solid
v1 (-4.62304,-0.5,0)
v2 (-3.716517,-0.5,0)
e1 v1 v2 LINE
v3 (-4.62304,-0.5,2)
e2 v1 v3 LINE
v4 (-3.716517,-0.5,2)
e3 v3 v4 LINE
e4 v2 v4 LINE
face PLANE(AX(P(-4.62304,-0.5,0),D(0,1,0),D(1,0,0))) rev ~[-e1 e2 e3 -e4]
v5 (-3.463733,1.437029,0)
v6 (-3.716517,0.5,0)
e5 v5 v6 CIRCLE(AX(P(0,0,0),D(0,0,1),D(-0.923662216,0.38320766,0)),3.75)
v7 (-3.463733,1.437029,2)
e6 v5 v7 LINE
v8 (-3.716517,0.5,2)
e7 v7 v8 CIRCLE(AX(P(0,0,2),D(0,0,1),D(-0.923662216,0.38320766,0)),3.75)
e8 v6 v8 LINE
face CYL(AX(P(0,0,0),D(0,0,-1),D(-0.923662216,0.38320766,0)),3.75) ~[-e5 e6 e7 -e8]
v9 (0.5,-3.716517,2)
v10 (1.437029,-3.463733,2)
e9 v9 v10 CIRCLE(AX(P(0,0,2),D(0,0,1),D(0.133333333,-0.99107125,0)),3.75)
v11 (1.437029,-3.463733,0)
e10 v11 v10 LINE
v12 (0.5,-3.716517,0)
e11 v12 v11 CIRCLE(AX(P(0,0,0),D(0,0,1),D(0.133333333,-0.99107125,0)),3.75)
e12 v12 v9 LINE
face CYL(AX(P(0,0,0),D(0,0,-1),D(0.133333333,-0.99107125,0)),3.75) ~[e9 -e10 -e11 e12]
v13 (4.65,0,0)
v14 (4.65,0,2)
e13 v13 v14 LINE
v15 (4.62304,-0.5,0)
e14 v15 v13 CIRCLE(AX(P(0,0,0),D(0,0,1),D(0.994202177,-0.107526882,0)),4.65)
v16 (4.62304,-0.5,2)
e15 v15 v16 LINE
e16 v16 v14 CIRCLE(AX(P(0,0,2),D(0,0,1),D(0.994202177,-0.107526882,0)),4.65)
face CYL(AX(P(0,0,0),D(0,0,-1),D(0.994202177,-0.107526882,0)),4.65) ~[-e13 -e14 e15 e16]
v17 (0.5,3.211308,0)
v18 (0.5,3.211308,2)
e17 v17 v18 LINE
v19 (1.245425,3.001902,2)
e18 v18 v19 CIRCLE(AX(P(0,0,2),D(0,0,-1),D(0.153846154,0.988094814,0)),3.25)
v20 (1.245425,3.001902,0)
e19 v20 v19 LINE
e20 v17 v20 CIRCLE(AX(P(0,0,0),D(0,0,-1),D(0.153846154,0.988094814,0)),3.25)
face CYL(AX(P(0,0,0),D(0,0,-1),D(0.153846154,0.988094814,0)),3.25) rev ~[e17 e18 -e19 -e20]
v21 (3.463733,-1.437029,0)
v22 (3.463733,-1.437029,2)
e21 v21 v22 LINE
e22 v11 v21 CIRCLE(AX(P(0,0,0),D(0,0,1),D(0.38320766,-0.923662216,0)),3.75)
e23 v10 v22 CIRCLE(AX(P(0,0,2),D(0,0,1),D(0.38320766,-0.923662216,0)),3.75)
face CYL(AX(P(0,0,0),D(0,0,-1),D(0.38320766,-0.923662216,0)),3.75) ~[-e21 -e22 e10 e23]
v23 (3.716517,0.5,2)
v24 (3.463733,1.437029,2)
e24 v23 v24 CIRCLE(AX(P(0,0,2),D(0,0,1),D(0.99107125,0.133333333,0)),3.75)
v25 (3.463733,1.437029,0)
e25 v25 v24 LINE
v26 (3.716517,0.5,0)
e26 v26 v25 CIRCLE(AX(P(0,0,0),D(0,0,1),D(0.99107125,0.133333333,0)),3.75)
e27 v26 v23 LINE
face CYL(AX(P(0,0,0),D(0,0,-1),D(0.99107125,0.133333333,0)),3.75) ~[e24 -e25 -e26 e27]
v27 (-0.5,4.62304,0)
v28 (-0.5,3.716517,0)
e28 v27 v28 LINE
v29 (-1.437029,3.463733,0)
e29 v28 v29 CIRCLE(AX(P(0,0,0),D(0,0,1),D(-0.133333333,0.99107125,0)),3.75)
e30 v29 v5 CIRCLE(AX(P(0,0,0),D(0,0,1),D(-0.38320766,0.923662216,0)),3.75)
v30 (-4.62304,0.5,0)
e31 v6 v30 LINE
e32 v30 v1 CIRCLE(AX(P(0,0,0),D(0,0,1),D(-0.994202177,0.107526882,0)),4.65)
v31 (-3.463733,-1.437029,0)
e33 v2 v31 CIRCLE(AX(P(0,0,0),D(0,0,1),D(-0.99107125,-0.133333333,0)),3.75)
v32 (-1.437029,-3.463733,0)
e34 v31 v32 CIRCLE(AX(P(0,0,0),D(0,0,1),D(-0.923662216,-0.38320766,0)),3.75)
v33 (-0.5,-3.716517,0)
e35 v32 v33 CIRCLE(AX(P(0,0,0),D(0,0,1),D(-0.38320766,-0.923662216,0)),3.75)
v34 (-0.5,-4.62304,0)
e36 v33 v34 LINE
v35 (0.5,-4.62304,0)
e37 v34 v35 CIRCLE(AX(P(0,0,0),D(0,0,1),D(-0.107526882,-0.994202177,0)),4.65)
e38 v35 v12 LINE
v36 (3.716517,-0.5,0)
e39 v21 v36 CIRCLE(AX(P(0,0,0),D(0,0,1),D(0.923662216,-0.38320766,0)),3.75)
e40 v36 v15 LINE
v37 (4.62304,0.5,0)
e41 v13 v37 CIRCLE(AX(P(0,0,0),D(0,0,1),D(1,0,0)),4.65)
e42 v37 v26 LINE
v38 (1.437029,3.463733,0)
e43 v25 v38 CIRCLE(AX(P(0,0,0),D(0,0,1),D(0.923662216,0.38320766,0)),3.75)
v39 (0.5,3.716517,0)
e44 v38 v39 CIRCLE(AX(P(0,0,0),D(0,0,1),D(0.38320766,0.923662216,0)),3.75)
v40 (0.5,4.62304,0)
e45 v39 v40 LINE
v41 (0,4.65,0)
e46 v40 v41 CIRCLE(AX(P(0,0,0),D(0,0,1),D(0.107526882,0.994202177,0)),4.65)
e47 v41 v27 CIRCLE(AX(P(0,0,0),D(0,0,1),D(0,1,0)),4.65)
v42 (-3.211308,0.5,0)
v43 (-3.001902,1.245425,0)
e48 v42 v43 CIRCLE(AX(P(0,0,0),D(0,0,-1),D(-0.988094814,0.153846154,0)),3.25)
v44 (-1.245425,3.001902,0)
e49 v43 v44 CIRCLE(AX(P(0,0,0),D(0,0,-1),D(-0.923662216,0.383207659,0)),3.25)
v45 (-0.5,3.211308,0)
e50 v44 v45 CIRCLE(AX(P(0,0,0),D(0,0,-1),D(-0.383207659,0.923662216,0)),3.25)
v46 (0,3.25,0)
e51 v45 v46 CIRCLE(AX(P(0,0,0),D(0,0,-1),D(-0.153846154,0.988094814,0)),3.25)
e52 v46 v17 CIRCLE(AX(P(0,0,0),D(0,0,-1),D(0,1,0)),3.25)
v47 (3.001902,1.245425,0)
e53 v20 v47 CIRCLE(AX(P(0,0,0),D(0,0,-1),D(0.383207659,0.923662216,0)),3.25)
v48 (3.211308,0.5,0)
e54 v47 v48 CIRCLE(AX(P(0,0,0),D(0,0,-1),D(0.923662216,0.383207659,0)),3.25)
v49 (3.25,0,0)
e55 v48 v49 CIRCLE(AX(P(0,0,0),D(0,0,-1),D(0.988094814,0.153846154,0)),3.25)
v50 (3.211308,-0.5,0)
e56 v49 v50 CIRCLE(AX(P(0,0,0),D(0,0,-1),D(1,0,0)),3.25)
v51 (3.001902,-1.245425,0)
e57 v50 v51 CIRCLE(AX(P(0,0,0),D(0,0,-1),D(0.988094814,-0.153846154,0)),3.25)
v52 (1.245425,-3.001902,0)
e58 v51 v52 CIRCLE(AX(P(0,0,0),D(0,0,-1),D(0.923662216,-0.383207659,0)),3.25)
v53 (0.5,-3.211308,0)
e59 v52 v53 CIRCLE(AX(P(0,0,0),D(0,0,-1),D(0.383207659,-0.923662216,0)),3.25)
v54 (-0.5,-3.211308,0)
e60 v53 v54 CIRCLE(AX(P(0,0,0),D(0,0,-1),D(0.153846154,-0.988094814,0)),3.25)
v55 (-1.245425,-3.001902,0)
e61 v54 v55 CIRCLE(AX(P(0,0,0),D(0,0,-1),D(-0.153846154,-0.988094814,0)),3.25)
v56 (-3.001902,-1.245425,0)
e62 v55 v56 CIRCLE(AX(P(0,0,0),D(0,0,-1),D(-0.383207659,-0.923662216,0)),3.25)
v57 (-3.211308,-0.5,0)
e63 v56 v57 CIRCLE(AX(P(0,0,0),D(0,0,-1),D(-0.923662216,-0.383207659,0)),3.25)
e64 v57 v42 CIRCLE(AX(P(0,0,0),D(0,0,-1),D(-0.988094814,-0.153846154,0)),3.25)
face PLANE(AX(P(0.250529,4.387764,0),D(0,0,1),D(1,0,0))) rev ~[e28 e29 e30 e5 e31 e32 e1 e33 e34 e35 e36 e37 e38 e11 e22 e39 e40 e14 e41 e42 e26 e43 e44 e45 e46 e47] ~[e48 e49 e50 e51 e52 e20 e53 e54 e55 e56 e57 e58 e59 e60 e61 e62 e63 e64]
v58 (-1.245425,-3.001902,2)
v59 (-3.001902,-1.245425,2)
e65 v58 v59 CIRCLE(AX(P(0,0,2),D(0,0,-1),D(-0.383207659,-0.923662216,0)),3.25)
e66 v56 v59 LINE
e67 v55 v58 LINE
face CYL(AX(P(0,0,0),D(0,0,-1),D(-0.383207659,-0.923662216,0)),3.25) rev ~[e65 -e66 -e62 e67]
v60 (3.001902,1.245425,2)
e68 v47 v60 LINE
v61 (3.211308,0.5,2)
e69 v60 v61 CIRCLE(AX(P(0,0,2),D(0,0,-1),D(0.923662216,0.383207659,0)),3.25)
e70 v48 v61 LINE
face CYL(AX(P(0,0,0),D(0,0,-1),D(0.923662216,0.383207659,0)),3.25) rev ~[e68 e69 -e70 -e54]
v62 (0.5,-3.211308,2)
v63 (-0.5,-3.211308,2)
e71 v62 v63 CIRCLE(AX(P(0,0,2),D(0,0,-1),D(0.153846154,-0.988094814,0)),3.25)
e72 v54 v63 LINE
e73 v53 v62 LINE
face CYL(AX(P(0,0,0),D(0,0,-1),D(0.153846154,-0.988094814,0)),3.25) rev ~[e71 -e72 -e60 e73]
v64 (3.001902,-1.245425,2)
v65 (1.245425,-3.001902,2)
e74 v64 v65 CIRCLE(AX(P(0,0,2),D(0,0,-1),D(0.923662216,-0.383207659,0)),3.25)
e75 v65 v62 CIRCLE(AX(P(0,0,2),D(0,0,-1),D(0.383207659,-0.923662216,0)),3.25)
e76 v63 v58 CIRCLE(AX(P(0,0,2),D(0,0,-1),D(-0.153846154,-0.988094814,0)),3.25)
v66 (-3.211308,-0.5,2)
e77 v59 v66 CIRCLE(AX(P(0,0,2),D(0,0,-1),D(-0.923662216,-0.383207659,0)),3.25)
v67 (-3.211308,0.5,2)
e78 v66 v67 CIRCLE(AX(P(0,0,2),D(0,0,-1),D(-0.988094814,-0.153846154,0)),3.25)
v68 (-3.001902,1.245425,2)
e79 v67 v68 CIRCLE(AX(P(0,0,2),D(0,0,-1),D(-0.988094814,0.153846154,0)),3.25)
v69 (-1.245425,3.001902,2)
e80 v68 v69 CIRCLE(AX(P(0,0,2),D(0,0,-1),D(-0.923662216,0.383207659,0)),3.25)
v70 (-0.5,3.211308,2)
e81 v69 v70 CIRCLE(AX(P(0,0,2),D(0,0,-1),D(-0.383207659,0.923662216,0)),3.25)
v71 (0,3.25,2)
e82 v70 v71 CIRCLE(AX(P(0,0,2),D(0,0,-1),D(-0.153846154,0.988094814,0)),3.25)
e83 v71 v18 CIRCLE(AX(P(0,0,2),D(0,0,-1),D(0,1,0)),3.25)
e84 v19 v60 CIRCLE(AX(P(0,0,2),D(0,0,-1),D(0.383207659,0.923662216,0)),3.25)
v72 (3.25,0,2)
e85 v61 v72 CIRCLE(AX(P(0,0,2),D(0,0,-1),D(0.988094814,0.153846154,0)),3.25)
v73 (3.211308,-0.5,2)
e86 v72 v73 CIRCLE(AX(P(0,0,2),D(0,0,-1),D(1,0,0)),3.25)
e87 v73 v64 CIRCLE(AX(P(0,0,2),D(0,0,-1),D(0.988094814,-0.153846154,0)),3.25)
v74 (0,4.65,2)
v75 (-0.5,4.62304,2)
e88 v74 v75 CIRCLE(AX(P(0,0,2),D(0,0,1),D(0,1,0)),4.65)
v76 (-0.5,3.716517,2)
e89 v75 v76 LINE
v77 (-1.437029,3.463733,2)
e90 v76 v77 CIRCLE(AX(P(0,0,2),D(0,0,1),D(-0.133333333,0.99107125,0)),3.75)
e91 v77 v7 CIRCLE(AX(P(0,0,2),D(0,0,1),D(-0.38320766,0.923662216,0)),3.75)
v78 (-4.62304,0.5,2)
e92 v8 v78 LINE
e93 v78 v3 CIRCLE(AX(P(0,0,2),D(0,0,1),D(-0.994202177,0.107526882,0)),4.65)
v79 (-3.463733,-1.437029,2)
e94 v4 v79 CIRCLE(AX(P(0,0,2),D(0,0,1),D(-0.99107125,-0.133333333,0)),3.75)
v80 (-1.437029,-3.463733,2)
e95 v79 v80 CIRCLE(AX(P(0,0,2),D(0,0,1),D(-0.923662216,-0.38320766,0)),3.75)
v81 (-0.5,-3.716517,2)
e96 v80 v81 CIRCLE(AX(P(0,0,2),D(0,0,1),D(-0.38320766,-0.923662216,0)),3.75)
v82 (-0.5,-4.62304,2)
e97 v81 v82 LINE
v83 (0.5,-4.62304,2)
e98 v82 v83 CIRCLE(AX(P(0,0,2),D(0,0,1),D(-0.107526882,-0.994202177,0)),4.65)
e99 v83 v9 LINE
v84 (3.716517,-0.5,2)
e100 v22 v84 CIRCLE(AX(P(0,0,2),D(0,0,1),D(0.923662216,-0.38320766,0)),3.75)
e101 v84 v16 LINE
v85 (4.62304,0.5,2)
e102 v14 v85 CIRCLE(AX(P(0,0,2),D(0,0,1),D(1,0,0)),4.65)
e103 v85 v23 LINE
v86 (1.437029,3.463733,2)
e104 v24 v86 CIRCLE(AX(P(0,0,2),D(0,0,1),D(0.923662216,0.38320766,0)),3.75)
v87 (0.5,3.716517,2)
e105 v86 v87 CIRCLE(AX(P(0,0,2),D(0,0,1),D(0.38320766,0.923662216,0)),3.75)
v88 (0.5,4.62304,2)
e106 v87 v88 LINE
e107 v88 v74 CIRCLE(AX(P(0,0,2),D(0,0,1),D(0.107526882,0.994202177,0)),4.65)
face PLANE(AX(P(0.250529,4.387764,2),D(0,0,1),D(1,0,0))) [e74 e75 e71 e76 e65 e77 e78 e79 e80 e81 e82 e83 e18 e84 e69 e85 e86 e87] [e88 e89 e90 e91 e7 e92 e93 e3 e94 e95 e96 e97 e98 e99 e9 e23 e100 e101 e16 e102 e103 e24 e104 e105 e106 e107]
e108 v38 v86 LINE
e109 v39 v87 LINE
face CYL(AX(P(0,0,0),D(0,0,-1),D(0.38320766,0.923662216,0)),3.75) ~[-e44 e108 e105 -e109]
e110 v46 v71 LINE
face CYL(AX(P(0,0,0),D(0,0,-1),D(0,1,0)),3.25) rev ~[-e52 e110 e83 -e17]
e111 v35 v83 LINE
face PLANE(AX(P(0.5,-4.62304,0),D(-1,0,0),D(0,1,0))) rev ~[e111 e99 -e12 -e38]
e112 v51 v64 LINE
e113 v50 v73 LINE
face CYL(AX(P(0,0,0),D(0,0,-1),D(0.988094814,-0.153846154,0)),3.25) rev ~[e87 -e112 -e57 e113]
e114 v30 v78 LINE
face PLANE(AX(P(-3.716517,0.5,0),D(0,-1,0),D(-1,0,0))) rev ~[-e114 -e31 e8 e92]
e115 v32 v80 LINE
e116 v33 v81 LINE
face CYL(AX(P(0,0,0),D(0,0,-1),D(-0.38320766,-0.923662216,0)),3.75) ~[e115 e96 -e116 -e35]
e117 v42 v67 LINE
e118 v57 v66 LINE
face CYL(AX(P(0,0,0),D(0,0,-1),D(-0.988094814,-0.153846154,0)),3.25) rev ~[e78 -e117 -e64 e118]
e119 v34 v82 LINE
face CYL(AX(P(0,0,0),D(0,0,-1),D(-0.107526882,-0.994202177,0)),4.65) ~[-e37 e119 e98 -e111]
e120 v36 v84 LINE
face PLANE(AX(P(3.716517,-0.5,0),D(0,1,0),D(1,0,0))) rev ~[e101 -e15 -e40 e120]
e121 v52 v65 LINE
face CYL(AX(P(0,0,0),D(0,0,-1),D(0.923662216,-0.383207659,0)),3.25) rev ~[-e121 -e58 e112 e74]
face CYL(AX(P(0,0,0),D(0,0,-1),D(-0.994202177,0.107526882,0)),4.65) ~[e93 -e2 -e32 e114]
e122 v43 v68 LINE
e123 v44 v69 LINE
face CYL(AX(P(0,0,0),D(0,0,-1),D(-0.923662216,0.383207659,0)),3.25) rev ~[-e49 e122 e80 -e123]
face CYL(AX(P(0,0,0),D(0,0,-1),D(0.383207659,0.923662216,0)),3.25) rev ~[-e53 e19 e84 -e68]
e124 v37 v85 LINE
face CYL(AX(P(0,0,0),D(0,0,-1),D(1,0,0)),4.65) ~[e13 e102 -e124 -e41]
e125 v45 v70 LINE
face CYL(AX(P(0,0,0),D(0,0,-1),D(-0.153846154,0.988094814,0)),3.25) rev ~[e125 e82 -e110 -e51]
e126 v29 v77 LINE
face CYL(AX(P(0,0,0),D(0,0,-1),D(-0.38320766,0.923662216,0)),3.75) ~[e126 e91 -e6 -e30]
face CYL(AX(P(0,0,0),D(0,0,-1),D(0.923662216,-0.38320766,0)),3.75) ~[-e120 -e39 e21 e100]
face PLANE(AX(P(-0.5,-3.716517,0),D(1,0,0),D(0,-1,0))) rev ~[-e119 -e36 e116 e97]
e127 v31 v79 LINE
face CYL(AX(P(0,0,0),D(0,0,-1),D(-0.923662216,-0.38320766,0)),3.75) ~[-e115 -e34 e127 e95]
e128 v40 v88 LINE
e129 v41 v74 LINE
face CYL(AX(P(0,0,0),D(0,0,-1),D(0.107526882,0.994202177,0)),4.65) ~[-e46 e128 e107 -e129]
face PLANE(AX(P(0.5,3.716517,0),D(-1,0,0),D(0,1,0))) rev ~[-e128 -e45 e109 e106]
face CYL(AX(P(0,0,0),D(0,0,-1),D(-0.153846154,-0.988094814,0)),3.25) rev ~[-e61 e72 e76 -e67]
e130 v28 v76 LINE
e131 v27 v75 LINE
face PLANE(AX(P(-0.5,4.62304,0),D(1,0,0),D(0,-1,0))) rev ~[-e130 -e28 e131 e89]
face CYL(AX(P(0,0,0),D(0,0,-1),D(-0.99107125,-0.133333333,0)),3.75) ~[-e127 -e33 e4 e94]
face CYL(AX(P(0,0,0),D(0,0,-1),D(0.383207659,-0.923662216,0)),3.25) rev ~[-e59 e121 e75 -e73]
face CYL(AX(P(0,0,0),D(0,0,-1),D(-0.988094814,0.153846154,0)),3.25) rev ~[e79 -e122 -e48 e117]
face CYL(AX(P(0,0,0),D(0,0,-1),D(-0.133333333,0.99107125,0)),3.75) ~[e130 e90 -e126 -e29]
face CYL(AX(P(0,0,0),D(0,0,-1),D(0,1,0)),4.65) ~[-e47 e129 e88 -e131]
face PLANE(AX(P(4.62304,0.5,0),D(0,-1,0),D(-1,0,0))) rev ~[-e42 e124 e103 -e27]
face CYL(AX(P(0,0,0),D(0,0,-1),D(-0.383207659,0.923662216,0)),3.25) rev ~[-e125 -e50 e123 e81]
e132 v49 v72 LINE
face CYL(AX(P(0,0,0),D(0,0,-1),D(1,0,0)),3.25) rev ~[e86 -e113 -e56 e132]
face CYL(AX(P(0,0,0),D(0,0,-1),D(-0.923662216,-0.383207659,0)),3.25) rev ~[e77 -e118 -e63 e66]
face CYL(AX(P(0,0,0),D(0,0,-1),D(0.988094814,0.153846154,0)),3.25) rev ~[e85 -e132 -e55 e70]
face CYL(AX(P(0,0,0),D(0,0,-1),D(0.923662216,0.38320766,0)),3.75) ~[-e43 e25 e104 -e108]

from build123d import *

# Parameters (mm, degrees)
F1_DEPTH = 2


with BuildPart() as f1:
    # F0 (on Top) → F1 (new body)
    with BuildSketch(Plane.XY):
        with BuildLine():
            ThreePointArc((0, 4.15), (0.2504565274, 4.1424354585), (0.5, 4.119769411))
            Line((0.5, 4.119769411), (0.5, 4.6230401253))
            ThreePointArc((0.5, 4.6230401253), (0.2503631537, 4.6432551396), (0, 4.65))
            Line((0, 4.65), (0, 4.15))
        make_face()
        with BuildLine():
            ThreePointArc((-0.5, 4.119769411), (-0.2504565274, 4.1424354585), (0, 4.15))
            Line((0, 4.15), (0, 4.65))
            ThreePointArc((0, 4.65), (-0.2503631537, 4.6432551396), (-0.5, 4.6230401253))
            Line((-0.5, 4.6230401253), (-0.5, 4.119769411))
        make_face()
        with BuildLine():
            ThreePointArc((-0.5, 3.7165171868), (-0.2505599224, 3.7416199333), (0, 3.75))
            Line((0, 3.75), (0, 4.15))
            ThreePointArc((0, 4.15), (-0.2504565274, 4.1424354585), (-0.5, 4.119769411))
            Line((-0.5, 4.119769411), (-0.5, 3.7165171868))
        make_face()
        with BuildLine():
            ThreePointArc((0, 3.75), (0.2505599224, 3.7416199333), (0.5, 3.7165171868))
            Line((0.5, 3.7165171868), (0.5, 4.119769411))
            ThreePointArc((0.5, 4.119769411), (0.2504565274, 4.1424354585), (0, 4.15))
            Line((0, 4.15), (0, 3.75))
        make_face()
        with BuildLine():
            ThreePointArc((0, 3.25), (0.2507474126, 3.2403125984), (0.5, 3.2113081447))
            Line((0.5, 3.2113081447), (0.5, 3.7165171868))
            ThreePointArc((0.5, 3.7165171868), (0.2505599224, 3.7416199333), (0, 3.75))
            Line((0, 3.75), (0, 3.25))
        make_face()
        with BuildLine():
            ThreePointArc((-0.5, 3.2113081447), (-0.2507474126, 3.2403125984), (0, 3.25))
            Line((0, 3.25), (0, 3.75))
            ThreePointArc((0, 3.75), (-0.2505599224, 3.7416199333), (-0.5, 3.7165171868))
            Line((-0.5, 3.7165171868), (-0.5, 3.2113081447))
        make_face()
        with BuildLine():
            ThreePointArc((-1.2454248934, 3.0019022028), (-0.8789708338, 3.128883231), (-0.5, 3.2113081447))
            Line((-0.5, 3.2113081447), (-0.5, 3.7165171868))
            ThreePointArc((-0.5, 3.7165171868), (-0.9767266714, 3.6205669459), (-1.4370287231, 3.4637333109))
            Line((-1.4370287231, 3.4637333109), (-1.2454248934, 3.0019022028))
        make_face()
        with BuildLine():
            ThreePointArc((0.5, 3.2113081447), (0.8789708338, 3.128883231), (1.2454248934, 3.0019022028))
            Line((1.2454248934, 3.0019022028), (1.4370287231, 3.4637333109))
            ThreePointArc((1.4370287231, 3.4637333109), (0.9767266714, 3.6205669459), (0.5, 3.7165171868))
            Line((0.5, 3.7165171868), (0.5, 3.2113081447))
        make_face()
        with BuildLine():
            ThreePointArc((1.2454248934, 3.0019022028), (2.2980970389, 2.2980970389), (3.0019022028, 1.2454248934))
            Line((3.0019022028, 1.2454248934), (3.4637333109, 1.4370287231))
            ThreePointArc((3.4637333109, 1.4370287231), (2.6516504294, 2.6516504294), (1.4370287231, 3.4637333109))
            Line((1.4370287231, 3.4637333109), (1.2454248934, 3.0019022028))
        make_face()
        with BuildLine():
            ThreePointArc((-3.0019022028, 1.2454248934), (-2.2980970389, 2.2980970389), (-1.2454248934, 3.0019022028))
            Line((-1.2454248934, 3.0019022028), (-1.4370287231, 3.4637333109))
            ThreePointArc((-1.4370287231, 3.4637333109), (-2.6516504294, 2.6516504294), (-3.4637333109, 1.4370287231))
            Line((-3.4637333109, 1.4370287231), (-3.0019022028, 1.2454248934))
        make_face()
        with BuildLine():
            ThreePointArc((-3.2113081447, 0.5), (-3.128883231, 0.8789708338), (-3.0019022028, 1.2454248934))
            Line((-3.0019022028, 1.2454248934), (-3.4637333109, 1.4370287231))
            ThreePointArc((-3.4637333109, 1.4370287231), (-3.6205669459, 0.9767266714), (-3.7165171868, 0.5))
            Line((-3.7165171868, 0.5), (-3.2113081447, 0.5))
        make_face()
        with BuildLine():
            ThreePointArc((-3.2113081447, -0.5), (-3.25, 0), (-3.2113081447, 0.5))
            Line((-3.2113081447, 0.5), (-3.7165171868, 0.5))
            ThreePointArc((-3.7165171868, 0.5), (-3.75, 0), (-3.7165171868, -0.5))
            Line((-3.7165171868, -0.5), (-3.2113081447, -0.5))
        make_face()
        with BuildLine():
            ThreePointArc((-3.0019022028, -1.2454248934), (-3.128883231, -0.8789708338), (-3.2113081447, -0.5))
            Line((-3.2113081447, -0.5), (-3.7165171868, -0.5))
            ThreePointArc((-3.7165171868, -0.5), (-3.6205669459, -0.9767266714), (-3.4637333109, -1.4370287231))
            Line((-3.4637333109, -1.4370287231), (-3.0019022028, -1.2454248934))
        make_face()
        with BuildLine():
            ThreePointArc((3.0019022028, 1.2454248934), (3.128883231, 0.8789708338), (3.2113081447, 0.5))
            Line((3.2113081447, 0.5), (3.7165171868, 0.5))
            ThreePointArc((3.7165171868, 0.5), (3.6205669459, 0.9767266714), (3.4637333109, 1.4370287231))
            Line((3.4637333109, 1.4370287231), (3.0019022028, 1.2454248934))
        make_face()
        with BuildLine():
            Line((-1.4370287231, -3.4637333109), (-1.2454248934, -3.0019022028))
            ThreePointArc((-1.2454248934, -3.0019022028), (-2.2980970389, -2.2980970389), (-3.0019022028, -1.2454248934))
            Line((-3.0019022028, -1.2454248934), (-3.4637333109, -1.4370287231))
            ThreePointArc((-3.4637333109, -1.4370287231), (-2.6516504294, -2.6516504294), (-1.4370287231, -3.4637333109))
        make_face()
        with BuildLine():
            Line((-0.5, -3.7165171868), (-0.5, -3.2113081447))
            ThreePointArc((-0.5, -3.2113081447), (-0.8789708338, -3.128883231), (-1.2454248934, -3.0019022028))
            Line((-1.2454248934, -3.0019022028), (-1.4370287231, -3.4637333109))
            ThreePointArc((-1.4370287231, -3.4637333109), (-0.9767266714, -3.6205669459), (-0.5, -3.7165171868))
        make_face()
        with BuildLine():
            Line((0.5, -3.7165171868), (0.5, -3.2113081447))
            ThreePointArc((0.5, -3.2113081447), (0, -3.25), (-0.5, -3.2113081447))
            Line((-0.5, -3.2113081447), (-0.5, -3.7165171868))
            ThreePointArc((-0.5, -3.7165171868), (0, -3.75), (0.5, -3.7165171868))
        make_face()
        with BuildLine():
            Line((1.4370287231, -3.4637333109), (1.2454248934, -3.0019022028))
            ThreePointArc((1.2454248934, -3.0019022028), (0.8789708338, -3.128883231), (0.5, -3.2113081447))
            Line((0.5, -3.2113081447), (0.5, -3.7165171868))
            ThreePointArc((0.5, -3.7165171868), (0.9767266714, -3.6205669459), (1.4370287231, -3.4637333109))
        make_face()
        with BuildLine():
            Line((3.4637333109, -1.4370287231), (3.0019022028, -1.2454248934))
            ThreePointArc((3.0019022028, -1.2454248934), (2.2980970389, -2.2980970389), (1.2454248934, -3.0019022028))
            Line((1.2454248934, -3.0019022028), (1.4370287231, -3.4637333109))
            ThreePointArc((1.4370287231, -3.4637333109), (2.6516504294, -2.6516504294), (3.4637333109, -1.4370287231))
        make_face()
        with BuildLine():
            Line((3.7165171868, -0.5), (3.2113081447, -0.5))
            ThreePointArc((3.2113081447, -0.5), (3.128883231, -0.8789708338), (3.0019022028, -1.2454248934))
            Line((3.0019022028, -1.2454248934), (3.4637333109, -1.4370287231))
            ThreePointArc((3.4637333109, -1.4370287231), (3.6205669459, -0.9767266714), (3.7165171868, -0.5))
        make_face()
        with BuildLine():
            ThreePointArc((3.2113081447, 0.5), (3.2403125984, 0.2507474126), (3.25, 0))
            ThreePointArc((3.25, 0), (3.2403125984, -0.2507474126), (3.2113081447, -0.5))
            Line((3.2113081447, -0.5), (3.7165171868, -0.5))
            ThreePointArc((3.7165171868, -0.5), (3.7416199333, -0.2505599224), (3.75, 0))
            ThreePointArc((3.75, 0), (3.7416199333, 0.2505599224), (3.7165171868, 0.5))
            Line((3.7165171868, 0.5), (3.2113081447, 0.5))
        make_face()
        with BuildLine():
            Line((4.119769411, 0.5), (3.7165171868, 0.5))
            ThreePointArc((3.7165171868, 0.5), (3.7416199333, 0.2505599224), (3.75, 0))
            ThreePointArc((3.75, 0), (3.7416199333, -0.2505599224), (3.7165171868, -0.5))
            Line((3.7165171868, -0.5), (4.119769411, -0.5))
            ThreePointArc((4.119769411, -0.5), (4.1424354585, -0.2504565274), (4.15, 0))
            ThreePointArc((4.15, 0), (4.1424354585, 0.2504565274), (4.119769411, 0.5))
        make_face()
        with BuildLine():
            ThreePointArc((-3.7165171868, -0.5), (-3.75, 0), (-3.7165171868, 0.5))
            Line((-3.7165171868, 0.5), (-4.119769411, 0.5))
            ThreePointArc((-4.119769411, 0.5), (-4.15, 0), (-4.119769411, -0.5))
            Line((-4.119769411, -0.5), (-3.7165171868, -0.5))
        make_face()
        with BuildLine():
            Line((0.5, -4.119769411), (0.5, -3.7165171868))
            ThreePointArc((0.5, -3.7165171868), (0, -3.75), (-0.5, -3.7165171868))
            Line((-0.5, -3.7165171868), (-0.5, -4.119769411))
            ThreePointArc((-0.5, -4.119769411), (0, -4.15), (0.5, -4.119769411))
        make_face()
        with BuildLine():
            Line((4.6230401253, 0.5), (4.119769411, 0.5))
            ThreePointArc((4.119769411, 0.5), (4.1424354585, 0.2504565274), (4.15, 0))
            ThreePointArc((4.15, 0), (4.1424354585, -0.2504565274), (4.119769411, -0.5))
            Line((4.119769411, -0.5), (4.6230401253, -0.5))
            ThreePointArc((4.6230401253, -0.5), (4.6432551396, -0.2503631537), (4.65, 0))
            ThreePointArc((4.65, 0), (4.6432551396, 0.2503631537), (4.6230401253, 0.5))
        make_face()
        with BuildLine():
            ThreePointArc((-4.119769411, -0.5), (-4.15, 0), (-4.119769411, 0.5))
            Line((-4.119769411, 0.5), (-4.6230401253, 0.5))
            ThreePointArc((-4.6230401253, 0.5), (-4.65, 0), (-4.6230401253, -0.5))
            Line((-4.6230401253, -0.5), (-4.119769411, -0.5))
        make_face()
        with BuildLine():
            Line((0.5, -4.6230401253), (0.5, -4.119769411))
            ThreePointArc((0.5, -4.119769411), (0, -4.15), (-0.5, -4.119769411))
            Line((-0.5, -4.119769411), (-0.5, -4.6230401253))
            ThreePointArc((-0.5, -4.6230401253), (0, -4.65), (0.5, -4.6230401253))
        make_face()
    extrude(amount=F1_DEPTH)


solid = f1.part
